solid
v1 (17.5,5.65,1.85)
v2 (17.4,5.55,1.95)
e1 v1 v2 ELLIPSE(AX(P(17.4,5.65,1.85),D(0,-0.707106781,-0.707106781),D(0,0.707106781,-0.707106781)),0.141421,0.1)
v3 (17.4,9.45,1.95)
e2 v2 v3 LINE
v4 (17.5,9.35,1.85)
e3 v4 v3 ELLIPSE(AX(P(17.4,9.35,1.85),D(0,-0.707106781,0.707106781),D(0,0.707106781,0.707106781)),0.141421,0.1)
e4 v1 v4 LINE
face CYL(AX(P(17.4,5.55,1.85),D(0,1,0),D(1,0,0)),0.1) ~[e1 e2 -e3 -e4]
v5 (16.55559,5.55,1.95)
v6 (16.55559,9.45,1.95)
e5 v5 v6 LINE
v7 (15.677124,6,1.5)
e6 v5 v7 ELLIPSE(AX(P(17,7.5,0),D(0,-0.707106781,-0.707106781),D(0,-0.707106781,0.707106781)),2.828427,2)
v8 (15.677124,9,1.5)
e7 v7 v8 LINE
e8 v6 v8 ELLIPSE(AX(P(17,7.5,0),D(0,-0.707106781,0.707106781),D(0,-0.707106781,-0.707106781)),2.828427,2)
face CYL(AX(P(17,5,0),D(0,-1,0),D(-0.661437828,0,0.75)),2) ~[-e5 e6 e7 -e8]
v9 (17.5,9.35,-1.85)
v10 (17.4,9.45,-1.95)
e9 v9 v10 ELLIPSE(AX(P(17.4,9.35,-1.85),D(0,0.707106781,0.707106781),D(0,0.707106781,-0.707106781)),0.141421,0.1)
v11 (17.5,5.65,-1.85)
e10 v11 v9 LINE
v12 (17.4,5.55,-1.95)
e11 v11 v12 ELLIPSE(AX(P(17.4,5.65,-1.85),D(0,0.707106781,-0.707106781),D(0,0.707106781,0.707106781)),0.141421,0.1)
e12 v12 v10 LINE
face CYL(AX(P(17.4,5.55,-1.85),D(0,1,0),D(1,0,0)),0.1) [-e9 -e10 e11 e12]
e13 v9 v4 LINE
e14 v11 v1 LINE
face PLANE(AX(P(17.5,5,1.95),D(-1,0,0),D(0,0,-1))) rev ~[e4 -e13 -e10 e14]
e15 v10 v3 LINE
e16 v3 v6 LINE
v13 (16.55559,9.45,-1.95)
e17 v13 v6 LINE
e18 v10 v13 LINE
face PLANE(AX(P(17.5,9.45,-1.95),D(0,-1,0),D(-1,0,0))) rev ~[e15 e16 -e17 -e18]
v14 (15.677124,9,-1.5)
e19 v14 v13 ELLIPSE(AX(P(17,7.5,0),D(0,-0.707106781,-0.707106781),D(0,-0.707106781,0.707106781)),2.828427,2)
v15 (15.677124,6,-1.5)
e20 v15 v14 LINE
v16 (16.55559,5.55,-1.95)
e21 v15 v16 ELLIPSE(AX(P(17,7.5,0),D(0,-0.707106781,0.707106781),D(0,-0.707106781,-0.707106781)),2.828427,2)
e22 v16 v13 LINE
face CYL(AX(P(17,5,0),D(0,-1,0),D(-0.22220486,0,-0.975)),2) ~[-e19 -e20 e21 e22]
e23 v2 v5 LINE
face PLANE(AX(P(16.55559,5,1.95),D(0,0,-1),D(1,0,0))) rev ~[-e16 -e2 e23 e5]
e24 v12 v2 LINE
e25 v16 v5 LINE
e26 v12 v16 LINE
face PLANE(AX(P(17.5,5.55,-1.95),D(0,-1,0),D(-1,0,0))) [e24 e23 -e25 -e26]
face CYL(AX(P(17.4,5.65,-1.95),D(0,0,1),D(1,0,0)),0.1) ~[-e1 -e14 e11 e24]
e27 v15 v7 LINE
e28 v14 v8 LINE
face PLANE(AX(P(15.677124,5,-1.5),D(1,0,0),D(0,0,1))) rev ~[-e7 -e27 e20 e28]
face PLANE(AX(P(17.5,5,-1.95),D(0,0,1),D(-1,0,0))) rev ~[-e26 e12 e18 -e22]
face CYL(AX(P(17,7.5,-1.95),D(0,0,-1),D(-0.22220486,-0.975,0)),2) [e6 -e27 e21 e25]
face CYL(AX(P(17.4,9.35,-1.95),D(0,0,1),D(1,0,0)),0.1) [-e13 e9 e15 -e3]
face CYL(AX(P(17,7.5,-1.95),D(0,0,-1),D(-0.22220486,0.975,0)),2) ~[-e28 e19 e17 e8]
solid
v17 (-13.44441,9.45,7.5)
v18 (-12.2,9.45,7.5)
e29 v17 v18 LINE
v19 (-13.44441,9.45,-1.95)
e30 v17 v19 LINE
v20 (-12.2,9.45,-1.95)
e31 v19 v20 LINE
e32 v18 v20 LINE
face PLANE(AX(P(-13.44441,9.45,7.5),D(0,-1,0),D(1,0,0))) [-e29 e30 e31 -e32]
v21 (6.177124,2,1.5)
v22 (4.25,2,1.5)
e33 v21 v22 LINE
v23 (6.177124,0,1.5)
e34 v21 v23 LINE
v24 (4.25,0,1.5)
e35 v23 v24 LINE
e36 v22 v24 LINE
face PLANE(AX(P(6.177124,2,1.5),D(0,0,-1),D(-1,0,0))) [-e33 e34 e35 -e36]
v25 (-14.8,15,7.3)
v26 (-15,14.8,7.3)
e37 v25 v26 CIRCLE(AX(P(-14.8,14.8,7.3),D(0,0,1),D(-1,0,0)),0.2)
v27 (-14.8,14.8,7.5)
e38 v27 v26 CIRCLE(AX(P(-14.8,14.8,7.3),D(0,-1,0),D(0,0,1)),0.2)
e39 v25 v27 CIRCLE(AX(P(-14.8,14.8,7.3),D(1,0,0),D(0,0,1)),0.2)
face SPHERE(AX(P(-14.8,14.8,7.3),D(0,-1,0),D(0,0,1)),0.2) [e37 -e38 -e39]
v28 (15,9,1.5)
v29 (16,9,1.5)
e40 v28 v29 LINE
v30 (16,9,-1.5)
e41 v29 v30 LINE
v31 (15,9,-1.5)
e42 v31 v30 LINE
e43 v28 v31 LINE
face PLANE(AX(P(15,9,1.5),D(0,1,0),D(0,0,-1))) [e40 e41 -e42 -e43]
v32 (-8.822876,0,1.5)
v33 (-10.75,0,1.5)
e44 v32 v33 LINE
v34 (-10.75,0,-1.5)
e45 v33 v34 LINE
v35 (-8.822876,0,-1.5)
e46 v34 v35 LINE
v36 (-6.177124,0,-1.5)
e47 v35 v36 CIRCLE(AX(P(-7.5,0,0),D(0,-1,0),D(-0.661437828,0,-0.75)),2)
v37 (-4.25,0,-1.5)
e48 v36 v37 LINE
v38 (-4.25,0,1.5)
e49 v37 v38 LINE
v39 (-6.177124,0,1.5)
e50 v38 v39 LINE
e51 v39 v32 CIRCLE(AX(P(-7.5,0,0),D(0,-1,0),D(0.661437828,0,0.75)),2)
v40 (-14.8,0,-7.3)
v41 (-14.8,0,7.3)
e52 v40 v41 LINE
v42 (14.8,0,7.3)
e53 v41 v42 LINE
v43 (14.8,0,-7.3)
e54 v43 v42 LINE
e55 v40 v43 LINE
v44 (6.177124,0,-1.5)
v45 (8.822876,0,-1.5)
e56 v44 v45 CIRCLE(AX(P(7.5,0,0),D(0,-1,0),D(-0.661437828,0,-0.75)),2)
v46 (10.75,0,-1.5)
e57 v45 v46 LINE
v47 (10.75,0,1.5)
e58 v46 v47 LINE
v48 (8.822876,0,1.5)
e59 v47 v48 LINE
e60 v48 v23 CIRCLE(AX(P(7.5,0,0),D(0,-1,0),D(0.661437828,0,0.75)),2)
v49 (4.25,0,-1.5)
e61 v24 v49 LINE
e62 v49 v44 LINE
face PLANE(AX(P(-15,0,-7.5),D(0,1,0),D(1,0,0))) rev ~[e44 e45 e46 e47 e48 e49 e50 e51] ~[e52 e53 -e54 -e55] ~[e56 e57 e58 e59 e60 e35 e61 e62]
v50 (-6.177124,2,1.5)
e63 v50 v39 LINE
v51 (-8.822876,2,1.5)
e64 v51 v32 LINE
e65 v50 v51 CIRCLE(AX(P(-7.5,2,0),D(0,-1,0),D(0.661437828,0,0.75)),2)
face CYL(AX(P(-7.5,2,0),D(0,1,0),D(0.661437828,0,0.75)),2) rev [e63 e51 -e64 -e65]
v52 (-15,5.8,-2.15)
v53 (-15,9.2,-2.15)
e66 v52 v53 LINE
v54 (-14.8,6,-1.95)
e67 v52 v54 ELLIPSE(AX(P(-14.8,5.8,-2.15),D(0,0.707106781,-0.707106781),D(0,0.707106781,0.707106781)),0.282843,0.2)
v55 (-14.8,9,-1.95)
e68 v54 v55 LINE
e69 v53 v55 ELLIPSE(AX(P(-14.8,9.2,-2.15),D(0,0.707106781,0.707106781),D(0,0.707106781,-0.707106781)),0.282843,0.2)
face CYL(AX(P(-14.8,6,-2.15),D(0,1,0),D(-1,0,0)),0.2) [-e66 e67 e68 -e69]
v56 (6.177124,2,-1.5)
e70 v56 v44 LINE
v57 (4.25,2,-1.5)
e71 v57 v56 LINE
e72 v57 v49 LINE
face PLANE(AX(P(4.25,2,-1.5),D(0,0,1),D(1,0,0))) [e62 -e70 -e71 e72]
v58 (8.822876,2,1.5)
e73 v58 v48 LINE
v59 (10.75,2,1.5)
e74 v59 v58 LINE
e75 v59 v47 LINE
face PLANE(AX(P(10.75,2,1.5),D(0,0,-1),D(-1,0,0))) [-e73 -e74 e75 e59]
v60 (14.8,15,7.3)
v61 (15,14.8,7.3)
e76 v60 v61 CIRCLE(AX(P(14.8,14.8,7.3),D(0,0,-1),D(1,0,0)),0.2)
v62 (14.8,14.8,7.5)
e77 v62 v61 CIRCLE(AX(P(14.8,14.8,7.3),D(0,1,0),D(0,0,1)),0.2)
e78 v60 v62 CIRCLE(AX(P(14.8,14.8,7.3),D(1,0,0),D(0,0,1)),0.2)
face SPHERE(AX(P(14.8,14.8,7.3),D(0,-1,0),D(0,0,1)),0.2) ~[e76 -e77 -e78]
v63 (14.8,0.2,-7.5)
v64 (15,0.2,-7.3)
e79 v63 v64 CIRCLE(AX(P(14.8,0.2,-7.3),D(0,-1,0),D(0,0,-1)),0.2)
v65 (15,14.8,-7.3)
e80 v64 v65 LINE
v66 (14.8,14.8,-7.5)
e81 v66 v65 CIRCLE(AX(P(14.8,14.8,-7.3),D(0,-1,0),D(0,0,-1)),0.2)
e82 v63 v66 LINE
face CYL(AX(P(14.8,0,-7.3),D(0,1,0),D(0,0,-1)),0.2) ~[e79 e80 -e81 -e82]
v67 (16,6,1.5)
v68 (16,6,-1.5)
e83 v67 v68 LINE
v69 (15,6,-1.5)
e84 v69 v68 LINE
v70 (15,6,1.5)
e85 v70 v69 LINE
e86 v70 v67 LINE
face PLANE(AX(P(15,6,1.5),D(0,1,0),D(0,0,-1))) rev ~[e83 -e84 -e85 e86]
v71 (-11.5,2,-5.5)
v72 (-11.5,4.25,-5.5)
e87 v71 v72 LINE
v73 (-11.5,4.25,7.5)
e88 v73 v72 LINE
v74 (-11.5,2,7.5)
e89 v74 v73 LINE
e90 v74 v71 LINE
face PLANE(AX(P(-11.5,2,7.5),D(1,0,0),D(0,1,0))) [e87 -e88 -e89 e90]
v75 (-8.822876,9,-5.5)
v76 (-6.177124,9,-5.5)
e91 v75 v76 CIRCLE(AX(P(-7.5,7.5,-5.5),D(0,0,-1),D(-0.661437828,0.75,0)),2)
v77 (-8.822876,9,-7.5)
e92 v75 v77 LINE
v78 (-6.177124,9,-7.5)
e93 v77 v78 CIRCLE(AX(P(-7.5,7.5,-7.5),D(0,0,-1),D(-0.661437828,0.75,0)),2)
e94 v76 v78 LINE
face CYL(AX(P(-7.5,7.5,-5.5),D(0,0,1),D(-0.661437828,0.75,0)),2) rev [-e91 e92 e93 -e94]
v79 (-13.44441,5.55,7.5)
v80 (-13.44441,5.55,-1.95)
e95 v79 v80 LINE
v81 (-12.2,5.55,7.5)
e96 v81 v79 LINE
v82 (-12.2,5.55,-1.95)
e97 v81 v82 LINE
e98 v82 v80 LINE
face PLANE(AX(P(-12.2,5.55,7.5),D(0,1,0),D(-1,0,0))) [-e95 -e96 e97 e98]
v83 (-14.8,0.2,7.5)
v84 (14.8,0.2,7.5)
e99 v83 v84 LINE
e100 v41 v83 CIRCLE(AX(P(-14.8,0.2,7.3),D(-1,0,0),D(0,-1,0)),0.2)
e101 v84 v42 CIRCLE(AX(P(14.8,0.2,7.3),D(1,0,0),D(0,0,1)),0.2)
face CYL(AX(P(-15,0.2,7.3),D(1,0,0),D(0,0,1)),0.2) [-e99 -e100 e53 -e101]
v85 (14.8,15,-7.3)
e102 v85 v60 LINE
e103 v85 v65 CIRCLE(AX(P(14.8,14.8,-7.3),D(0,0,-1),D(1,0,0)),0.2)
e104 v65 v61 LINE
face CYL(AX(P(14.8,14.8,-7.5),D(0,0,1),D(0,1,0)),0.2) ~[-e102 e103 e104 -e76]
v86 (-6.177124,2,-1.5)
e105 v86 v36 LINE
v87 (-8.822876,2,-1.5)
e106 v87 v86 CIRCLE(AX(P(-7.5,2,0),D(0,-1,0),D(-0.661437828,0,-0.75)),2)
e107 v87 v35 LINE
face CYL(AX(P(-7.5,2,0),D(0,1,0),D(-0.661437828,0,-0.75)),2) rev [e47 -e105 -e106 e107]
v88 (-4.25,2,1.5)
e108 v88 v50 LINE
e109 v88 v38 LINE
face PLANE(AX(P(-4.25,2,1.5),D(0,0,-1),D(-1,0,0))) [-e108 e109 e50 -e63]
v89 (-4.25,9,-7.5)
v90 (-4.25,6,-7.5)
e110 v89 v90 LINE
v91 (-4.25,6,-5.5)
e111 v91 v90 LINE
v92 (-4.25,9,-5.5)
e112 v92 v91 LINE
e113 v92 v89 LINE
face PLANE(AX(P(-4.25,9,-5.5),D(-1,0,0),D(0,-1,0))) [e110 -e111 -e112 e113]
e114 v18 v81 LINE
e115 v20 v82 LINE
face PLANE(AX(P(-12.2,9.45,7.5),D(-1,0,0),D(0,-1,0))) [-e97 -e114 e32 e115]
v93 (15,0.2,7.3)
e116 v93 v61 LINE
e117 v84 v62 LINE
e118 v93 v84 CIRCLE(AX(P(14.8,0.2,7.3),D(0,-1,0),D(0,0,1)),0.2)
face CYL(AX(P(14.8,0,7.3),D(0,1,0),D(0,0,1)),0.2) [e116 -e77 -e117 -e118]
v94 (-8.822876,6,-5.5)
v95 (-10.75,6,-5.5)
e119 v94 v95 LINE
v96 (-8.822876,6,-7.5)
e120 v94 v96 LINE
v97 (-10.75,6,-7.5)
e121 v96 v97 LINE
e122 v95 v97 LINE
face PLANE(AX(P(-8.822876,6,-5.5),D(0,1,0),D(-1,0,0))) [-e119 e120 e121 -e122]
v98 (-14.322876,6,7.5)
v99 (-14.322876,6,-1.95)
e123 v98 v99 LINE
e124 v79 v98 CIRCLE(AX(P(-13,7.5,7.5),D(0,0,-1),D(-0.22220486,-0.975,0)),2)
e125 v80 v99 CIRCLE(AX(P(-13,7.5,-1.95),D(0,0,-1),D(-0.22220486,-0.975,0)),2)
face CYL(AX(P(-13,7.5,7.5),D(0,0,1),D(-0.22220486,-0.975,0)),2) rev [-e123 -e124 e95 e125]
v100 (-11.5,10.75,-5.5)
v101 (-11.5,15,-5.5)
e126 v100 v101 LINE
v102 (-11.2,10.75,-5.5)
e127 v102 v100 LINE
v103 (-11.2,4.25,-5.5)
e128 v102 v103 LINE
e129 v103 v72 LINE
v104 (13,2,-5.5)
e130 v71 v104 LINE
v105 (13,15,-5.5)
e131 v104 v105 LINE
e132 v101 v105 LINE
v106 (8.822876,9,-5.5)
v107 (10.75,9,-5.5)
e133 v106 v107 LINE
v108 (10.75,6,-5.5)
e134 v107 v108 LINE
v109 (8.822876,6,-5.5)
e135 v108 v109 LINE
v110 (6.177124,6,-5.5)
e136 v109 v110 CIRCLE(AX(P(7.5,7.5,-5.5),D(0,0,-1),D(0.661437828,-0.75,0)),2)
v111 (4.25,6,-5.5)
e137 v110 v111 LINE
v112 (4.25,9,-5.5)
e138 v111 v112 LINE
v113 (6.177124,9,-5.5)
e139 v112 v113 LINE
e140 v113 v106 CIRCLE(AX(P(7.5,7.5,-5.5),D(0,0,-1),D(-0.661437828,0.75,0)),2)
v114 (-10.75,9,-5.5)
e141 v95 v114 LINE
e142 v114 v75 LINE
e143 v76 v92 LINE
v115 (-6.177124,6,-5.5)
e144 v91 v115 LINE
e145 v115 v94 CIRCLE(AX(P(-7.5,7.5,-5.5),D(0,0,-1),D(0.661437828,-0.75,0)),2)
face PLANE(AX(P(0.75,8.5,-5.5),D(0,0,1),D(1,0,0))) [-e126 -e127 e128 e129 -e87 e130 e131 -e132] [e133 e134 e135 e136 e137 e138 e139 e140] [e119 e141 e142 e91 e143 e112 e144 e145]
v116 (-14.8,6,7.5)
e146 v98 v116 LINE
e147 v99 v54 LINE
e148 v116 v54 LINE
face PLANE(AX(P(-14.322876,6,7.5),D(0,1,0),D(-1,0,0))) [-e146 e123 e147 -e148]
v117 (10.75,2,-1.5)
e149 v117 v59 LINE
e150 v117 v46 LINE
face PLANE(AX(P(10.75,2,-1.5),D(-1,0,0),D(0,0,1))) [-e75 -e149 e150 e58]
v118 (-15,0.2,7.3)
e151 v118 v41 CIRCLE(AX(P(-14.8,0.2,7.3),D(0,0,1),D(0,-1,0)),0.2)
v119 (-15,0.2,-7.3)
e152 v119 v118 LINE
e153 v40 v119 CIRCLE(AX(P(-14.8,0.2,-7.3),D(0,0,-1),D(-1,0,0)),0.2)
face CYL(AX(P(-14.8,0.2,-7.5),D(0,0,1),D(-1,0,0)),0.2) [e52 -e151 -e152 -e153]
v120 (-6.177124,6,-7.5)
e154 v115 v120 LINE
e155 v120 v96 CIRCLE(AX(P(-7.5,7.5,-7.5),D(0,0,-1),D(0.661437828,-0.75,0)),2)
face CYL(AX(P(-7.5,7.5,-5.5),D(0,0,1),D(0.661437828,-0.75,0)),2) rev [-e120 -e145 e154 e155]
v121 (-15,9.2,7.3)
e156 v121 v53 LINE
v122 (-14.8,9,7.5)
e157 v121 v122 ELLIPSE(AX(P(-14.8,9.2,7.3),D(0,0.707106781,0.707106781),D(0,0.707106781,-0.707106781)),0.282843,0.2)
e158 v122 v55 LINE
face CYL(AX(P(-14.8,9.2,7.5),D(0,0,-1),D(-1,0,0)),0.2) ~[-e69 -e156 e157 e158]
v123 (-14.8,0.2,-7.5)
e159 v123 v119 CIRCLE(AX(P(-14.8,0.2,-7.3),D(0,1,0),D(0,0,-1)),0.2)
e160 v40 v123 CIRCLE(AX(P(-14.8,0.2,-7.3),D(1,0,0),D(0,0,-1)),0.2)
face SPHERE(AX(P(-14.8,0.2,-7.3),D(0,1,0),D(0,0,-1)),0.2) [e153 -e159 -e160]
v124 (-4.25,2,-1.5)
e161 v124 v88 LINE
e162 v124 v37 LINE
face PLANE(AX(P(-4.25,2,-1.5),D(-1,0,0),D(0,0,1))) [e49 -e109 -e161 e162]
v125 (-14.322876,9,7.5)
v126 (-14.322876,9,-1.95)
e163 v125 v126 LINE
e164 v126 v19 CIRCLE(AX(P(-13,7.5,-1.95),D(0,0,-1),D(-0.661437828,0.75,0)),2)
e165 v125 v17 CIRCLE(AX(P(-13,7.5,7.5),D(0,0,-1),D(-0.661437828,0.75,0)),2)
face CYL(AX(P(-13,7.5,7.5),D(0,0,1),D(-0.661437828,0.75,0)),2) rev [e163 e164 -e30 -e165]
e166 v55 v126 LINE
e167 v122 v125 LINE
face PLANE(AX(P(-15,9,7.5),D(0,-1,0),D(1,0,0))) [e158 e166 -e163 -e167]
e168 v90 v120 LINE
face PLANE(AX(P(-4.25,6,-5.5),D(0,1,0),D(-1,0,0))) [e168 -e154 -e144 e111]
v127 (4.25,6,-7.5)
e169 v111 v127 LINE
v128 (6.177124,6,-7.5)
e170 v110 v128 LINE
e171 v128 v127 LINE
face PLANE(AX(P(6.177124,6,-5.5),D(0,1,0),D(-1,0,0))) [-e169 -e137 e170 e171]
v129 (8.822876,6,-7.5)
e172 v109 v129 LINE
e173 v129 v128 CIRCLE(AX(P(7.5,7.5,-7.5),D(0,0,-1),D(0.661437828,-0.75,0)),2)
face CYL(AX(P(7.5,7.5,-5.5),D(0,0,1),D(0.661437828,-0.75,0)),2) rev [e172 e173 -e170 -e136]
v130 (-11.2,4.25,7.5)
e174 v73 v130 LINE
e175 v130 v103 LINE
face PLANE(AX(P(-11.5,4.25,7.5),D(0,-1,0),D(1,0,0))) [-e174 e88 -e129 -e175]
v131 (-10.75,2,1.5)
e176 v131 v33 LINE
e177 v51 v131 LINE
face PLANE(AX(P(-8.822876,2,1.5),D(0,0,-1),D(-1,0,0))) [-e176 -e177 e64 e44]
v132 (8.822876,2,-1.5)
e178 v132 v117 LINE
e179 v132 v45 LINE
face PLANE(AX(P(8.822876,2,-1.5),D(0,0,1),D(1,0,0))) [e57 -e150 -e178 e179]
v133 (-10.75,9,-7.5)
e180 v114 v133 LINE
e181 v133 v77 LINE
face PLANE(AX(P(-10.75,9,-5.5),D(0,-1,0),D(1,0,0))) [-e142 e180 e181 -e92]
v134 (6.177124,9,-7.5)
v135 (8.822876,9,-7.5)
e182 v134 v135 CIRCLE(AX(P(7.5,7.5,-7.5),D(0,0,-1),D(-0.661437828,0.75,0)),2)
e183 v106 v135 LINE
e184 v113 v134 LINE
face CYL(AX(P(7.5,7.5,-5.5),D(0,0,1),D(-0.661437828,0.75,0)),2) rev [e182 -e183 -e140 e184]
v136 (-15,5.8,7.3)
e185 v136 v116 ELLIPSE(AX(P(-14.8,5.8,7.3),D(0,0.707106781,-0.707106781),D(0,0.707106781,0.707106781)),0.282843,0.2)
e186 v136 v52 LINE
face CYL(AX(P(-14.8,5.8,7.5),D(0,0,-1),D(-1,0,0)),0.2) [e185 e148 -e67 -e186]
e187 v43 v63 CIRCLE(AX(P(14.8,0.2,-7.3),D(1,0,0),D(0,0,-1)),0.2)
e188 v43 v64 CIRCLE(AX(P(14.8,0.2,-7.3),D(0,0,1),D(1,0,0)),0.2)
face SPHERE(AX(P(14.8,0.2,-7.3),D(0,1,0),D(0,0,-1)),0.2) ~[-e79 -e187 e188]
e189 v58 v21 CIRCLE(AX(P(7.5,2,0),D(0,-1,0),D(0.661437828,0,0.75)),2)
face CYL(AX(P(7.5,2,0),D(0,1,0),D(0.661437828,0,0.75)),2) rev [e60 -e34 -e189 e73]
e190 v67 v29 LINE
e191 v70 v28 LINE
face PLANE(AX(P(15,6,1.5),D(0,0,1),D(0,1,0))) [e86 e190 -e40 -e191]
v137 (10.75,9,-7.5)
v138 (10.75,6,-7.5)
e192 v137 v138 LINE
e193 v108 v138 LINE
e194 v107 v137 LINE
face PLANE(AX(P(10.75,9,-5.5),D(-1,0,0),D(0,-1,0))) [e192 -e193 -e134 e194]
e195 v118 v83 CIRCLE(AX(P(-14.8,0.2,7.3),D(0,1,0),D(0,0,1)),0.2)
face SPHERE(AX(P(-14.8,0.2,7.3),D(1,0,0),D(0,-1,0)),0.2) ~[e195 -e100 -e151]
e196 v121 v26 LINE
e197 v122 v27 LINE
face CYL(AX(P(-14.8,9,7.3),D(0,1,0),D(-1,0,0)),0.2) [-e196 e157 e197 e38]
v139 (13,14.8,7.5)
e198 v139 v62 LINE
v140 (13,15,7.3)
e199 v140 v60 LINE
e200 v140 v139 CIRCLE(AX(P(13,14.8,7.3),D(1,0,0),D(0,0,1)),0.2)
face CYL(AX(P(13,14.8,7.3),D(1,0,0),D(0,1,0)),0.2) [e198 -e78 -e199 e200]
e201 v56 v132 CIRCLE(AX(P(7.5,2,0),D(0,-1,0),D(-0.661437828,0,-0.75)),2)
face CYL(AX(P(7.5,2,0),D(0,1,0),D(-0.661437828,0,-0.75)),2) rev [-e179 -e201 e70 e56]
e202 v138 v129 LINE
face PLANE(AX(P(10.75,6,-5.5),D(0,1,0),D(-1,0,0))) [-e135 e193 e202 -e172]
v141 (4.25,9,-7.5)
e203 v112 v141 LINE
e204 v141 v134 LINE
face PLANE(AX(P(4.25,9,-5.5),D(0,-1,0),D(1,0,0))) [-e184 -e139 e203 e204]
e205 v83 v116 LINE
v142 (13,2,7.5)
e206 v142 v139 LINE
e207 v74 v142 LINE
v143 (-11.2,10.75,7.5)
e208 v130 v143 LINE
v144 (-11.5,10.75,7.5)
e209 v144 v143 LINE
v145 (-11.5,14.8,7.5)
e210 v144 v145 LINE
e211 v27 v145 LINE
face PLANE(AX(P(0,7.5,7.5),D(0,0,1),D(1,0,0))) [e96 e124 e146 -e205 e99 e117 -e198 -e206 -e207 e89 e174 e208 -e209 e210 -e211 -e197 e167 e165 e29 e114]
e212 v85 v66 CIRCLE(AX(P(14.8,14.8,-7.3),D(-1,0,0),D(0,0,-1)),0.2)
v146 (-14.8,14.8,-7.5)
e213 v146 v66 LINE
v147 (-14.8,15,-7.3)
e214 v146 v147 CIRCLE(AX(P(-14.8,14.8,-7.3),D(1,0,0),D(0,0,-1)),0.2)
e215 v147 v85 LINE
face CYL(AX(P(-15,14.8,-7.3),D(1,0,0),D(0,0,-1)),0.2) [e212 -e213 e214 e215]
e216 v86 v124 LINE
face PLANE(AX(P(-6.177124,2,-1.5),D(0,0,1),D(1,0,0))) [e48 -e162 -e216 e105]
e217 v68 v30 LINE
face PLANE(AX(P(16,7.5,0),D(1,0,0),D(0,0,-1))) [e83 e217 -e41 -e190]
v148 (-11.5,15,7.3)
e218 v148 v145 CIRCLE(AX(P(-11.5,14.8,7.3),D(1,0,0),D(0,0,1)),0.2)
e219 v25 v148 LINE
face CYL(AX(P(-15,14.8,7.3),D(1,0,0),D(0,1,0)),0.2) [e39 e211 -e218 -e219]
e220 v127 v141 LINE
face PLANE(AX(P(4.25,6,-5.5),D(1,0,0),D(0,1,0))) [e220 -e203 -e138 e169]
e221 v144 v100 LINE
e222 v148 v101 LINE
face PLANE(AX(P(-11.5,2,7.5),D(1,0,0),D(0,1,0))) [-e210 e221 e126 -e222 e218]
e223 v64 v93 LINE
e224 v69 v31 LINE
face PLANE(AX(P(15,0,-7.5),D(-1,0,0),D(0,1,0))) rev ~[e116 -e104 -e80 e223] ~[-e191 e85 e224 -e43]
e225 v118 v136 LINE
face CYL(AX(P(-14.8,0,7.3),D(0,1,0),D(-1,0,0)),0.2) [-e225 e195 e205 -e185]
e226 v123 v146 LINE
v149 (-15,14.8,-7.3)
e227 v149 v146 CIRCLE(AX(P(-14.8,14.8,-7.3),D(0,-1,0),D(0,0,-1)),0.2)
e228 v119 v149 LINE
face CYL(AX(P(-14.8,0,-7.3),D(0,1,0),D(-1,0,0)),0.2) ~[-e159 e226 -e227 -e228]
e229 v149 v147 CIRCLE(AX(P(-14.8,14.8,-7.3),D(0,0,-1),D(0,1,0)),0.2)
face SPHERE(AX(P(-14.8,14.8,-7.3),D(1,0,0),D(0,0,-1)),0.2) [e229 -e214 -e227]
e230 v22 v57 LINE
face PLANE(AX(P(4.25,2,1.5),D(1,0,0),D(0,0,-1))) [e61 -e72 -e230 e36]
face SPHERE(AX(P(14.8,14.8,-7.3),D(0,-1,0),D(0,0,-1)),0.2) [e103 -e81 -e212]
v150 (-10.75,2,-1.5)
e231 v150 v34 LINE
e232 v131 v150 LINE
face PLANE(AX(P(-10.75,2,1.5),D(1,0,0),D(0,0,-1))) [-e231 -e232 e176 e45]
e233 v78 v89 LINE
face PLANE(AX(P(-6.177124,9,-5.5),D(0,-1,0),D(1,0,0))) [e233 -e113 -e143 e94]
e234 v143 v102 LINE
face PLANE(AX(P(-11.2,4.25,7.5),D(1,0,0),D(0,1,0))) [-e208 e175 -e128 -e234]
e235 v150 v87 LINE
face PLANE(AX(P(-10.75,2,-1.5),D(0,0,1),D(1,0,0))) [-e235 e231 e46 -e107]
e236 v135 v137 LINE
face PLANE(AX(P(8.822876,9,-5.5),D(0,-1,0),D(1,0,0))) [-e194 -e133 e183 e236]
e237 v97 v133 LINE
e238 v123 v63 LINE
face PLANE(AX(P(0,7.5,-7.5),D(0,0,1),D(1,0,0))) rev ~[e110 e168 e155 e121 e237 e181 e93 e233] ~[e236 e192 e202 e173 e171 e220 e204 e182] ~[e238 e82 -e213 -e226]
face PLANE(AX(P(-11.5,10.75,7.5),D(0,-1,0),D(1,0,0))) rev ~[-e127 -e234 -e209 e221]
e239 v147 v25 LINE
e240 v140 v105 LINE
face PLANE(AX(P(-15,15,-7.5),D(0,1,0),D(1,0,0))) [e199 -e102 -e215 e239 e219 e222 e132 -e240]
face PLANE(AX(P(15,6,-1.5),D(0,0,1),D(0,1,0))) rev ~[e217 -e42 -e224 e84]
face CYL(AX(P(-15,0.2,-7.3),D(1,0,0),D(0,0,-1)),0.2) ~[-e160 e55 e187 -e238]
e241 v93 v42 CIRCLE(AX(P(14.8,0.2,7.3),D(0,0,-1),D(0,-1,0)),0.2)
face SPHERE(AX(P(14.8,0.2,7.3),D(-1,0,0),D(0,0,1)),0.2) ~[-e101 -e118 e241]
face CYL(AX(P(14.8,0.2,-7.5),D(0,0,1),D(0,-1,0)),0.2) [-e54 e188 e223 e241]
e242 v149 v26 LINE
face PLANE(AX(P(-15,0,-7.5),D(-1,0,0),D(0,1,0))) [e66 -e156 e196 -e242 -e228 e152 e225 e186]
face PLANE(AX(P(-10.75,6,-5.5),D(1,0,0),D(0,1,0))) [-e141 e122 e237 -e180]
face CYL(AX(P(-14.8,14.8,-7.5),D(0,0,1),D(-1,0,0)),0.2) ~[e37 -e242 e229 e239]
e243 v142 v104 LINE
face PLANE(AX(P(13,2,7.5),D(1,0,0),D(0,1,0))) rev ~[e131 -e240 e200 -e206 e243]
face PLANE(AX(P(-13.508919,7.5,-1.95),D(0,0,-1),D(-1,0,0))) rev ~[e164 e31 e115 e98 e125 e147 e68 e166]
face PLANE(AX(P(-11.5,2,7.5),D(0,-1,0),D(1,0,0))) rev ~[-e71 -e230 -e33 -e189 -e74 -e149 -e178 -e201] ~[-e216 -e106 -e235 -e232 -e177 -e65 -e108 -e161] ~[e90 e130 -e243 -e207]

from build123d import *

# Parameters (mm, degrees)
EXTRUDE_1_DEPTH      = 7.5
EXTRUDE_1_DEPTH_BACK = 7.5
SKETCH_1_W           = 30
SKETCH_1_H           = 15
SKETCH_2_W           = 24.5
SKETCH_2_H           = 13
CUT_EXTRUDE_1_DEPTH  = 13
SKETCH_3_W           = 3
SKETCH_3_H           = 3
EXTRUDE_2_DEPTH      = 1
EXTRUDE_3_DEPTH      = 4
EXTRUDE_3_DEPTH_BACK = 1
CUT_EXTRUDE_START    = -3.9
CUT_EXTRUDE_2_DEPTH  = 3.9
CUT_EXTRUDE_3_DEPTH  = 9.45
CUT_EXTRUDE_4_DEPTH  = 2
EXTRUDE_4_REACH      = 29.5
SKETCH_8_W           = 0.3
SKETCH_8_H           = 6.5
CUT_EXTRUDE_5_DEPTH  = 2
FILLET_1_R           = 0.1
FILLET_2_R           = 0.2


with BuildPart() as part:
    # 草图1 → 凸台-拉伸1 (new, two sides: drawn at the far end of the back side and taken through both)
    with BuildSketch(Plane.XY.offset(-EXTRUDE_1_DEPTH_BACK)):
        with Locations((0, 7.5)):
            Rectangle(SKETCH_1_W, SKETCH_1_H)
    extrude(amount=EXTRUDE_1_DEPTH + EXTRUDE_1_DEPTH_BACK)

    # 草图2 → 切除-拉伸1 (cut)
    with BuildSketch(Plane.XY.offset(7.5)):
        with Locations((0.75, 8.5)):
            Rectangle(SKETCH_2_W, SKETCH_2_H)
    extrude(amount=-CUT_EXTRUDE_1_DEPTH, mode=Mode.SUBTRACT)

    # 草图3 → 凸台-拉伸2 (add)
    with BuildSketch(Plane(origin=(15, 0, 0), x_dir=(0, 0, -1), z_dir=(1, 0, 0))):
        with Locations((0, 7.5)):
            Rectangle(SKETCH_3_W, SKETCH_3_H)
    extrude(amount=EXTRUDE_2_DEPTH)

    # 草图6 → 切除-拉伸3 (cut)
    with BuildSketch(Plane.XY.offset(7.5)):
        with BuildLine():
            Line((-15, 9), (-14.322875656, 9))
            ThreePointArc((-14.322875656, 9), (-13.911838473, 9.280042303), (-13.444409721, 9.45))
            Line((-13.444409721, 9.45), (-12.2, 9.45))
            Line((-12.2, 9.45), (-12.2, 5.55))
            Line((-12.2, 5.55), (-13.444409721, 5.55))
            ThreePointArc((-13.444409721, 5.55), (-13.911838473, 5.719957697), (-14.322875656, 6))
            Line((-14.322875656, 6), (-15, 6))
            Line((-15, 6), (-15, 9))
        make_face()
    extrude(amount=-CUT_EXTRUDE_3_DEPTH, mode=Mode.SUBTRACT)

    # 草图7 → 切除-拉伸4 (cut)
    with BuildSketch(Plane.XY.offset(-5.5)):
        with BuildLine():
            Line((-6.177124344, 9), (-4.25, 9))
            Line((-4.25, 9), (-4.25, 6))
            Line((-4.25, 6), (-6.177124344, 6))
            ThreePointArc((-6.177124344, 6), (-7.5, 5.5), (-8.822875656, 6))
            Line((-8.822875656, 6), (-10.75, 6))
            Line((-10.75, 6), (-10.75, 9))
            Line((-10.75, 9), (-8.822875656, 9))
            ThreePointArc((-8.822875656, 9), (-7.5, 9.5), (-6.177124344, 9))
        make_face()
        with BuildLine():
            Line((4.25, 9), (6.177124344, 9))
            ThreePointArc((6.177124344, 9), (7.5, 9.5), (8.822875656, 9))
            Line((8.822875656, 9), (10.75, 9))
            Line((10.75, 9), (10.75, 6))
            Line((10.75, 6), (8.822875656, 6))
            ThreePointArc((8.822875656, 6), (7.5, 5.5), (6.177124344, 6))
            Line((6.177124344, 6), (4.25, 6))
            Line((4.25, 6), (4.25, 9))
        make_face()
    extrude(amount=-CUT_EXTRUDE_4_DEPTH, mode=Mode.SUBTRACT)

    # 草图8 → 凸台-拉伸4 (add, up to next)
    with BuildSketch(Plane.XY.offset(7.5), mode=Mode.PRIVATE) as extrude_4_sk1:
        with Locations((-11.35, 7.5)):
            Rectangle(SKETCH_8_W, SKETCH_8_H)
    extrude_4_tool1 = extrude(extrude_4_sk1.sketch, amount=-EXTRUDE_4_REACH, mode=Mode.PRIVATE) - part.part
    add(extrude_4_tool1.solids().sort_by_distance((-11.35, 7.5, 7.5))[0])

    # 草图9 → 切除-拉伸5 (cut)
    with BuildSketch(Plane(origin=(0, 2, 0), x_dir=(-1, 0, 0), z_dir=(0, 1, 0))):
        with BuildLine():
            Line((6.177124344, -1.5), (4.25, -1.5))
            Line((4.25, -1.5), (4.25, 1.5))
            Line((4.25, 1.5), (6.177124344, 1.5))
            ThreePointArc((6.177124344, 1.5), (7.5, 2), (8.822875656, 1.5))
            Line((8.822875656, 1.5), (10.75, 1.5))
            Line((10.75, 1.5), (10.75, -1.5))
            Line((10.75, -1.5), (8.822875656, -1.5))
            ThreePointArc((8.822875656, -1.5), (7.5, -2), (6.177124344, -1.5))
        make_face()
        with BuildLine():
            Line((-4.25, -1.5), (-6.177124344, -1.5))
            ThreePointArc((-6.177124344, -1.5), (-7.5, -2), (-8.822875656, -1.5))
            Line((-8.822875656, -1.5), (-10.75, -1.5))
            Line((-10.75, -1.5), (-10.75, 1.5))
            Line((-10.75, 1.5), (-8.822875656, 1.5))
            ThreePointArc((-8.822875656, 1.5), (-7.5, 2), (-6.177124344, 1.5))
            Line((-6.177124344, 1.5), (-4.25, 1.5))
            Line((-4.25, 1.5), (-4.25, -1.5))
        make_face()
    extrude(amount=-CUT_EXTRUDE_5_DEPTH, mode=Mode.SUBTRACT)

    # 圆角2
    fillet_2_edges = [part.edges().sort_by_distance(p)[0] for p in [
        (15, 7.5, -7.5),
        (-15, 12, 7.5),
        (0, 0, 7.5),
        (0, 15, -7.5),
        (15, 7.5, 7.5),
        (14, 15, 7.5),
        (-13.25, 15, 7.5),
        (-15, 7.5, -7.5),
        (0, 0, -7.5),
        (-15, 15, 0),
        (15, 15, 0),
        (15, 0, 0),
        (-15, 0, 0),
        (-15, 3, 7.5),
        (-15, 7.5, -1.95),
        (-15, 6, 2.775),
        (-15, 9, 2.775),
    ]]
    fillet(fillet_2_edges, radius=FILLET_2_R)


with BuildPart() as body_2:
    # 草图4 → 凸台-拉伸3 (new, two sides: drawn at the far end of the back side and taken through both)
    with BuildSketch(Plane(origin=(0, 6, 0), x_dir=(1, 0, 0), z_dir=(0, 1, 0)).offset(-EXTRUDE_3_DEPTH_BACK)):
        with BuildLine():
            Line((17.5, -1.95), (17.5, 1.95))
            Line((17.5, 1.95), (16.555590279, 1.95))
            ThreePointArc((16.555590279, 1.95), (16.088161527, 1.780042303), (15.677124344, 1.5))
            Line((15.677124344, 1.5), (15.677124344, -1.5))
            ThreePointArc((15.677124344, -1.5), (16.088161527, -1.780042303), (16.555590279, -1.95))
            Line((16.555590279, -1.95), (17.5, -1.95))
        make_face()
    extrude(amount=EXTRUDE_3_DEPTH + EXTRUDE_3_DEPTH_BACK)

    # 草图5 → 切除-拉伸2 (cut)
    with BuildSketch(Plane.XY.offset(1.95).offset(CUT_EXTRUDE_START)):
        with BuildLine():
            Line((17.5, 9.45), (16.555590279, 9.45))
            ThreePointArc((16.555590279, 9.45), (16.088161527, 9.280042303), (15.677124344, 9))
            Line((15.677124344, 9), (15.677124344, 10))
            Line((15.677124344, 10), (17.5, 10))
            Line((17.5, 10), (17.5, 9.45))
        make_face()
        with BuildLine():
            Line((15.677124344, 5), (17.5, 5))
            Line((17.5, 5), (17.5, 5.55))
            Line((17.5, 5.55), (16.555590279, 5.55))
            ThreePointArc((16.555590279, 5.55), (16.088161527, 5.719957697), (15.677124344, 6))
            Line((15.677124344, 6), (15.677124344, 5))
        make_face()
    extrude(amount=CUT_EXTRUDE_2_DEPTH, mode=Mode.SUBTRACT)

    # 圆角1
    fillet_1_edges = [body_2.edges().sort_by_distance(p)[0] for p in [
        (17.5, 7.5, 1.95),
        (17.5, 7.5, -1.95),
        (17.5, 9.45, 0),
        (17.5, 5.55, 0),
    ]]
    fillet(fillet_1_edges, radius=FILLET_1_R)


solid = Compound([part.part, body_2.part])
